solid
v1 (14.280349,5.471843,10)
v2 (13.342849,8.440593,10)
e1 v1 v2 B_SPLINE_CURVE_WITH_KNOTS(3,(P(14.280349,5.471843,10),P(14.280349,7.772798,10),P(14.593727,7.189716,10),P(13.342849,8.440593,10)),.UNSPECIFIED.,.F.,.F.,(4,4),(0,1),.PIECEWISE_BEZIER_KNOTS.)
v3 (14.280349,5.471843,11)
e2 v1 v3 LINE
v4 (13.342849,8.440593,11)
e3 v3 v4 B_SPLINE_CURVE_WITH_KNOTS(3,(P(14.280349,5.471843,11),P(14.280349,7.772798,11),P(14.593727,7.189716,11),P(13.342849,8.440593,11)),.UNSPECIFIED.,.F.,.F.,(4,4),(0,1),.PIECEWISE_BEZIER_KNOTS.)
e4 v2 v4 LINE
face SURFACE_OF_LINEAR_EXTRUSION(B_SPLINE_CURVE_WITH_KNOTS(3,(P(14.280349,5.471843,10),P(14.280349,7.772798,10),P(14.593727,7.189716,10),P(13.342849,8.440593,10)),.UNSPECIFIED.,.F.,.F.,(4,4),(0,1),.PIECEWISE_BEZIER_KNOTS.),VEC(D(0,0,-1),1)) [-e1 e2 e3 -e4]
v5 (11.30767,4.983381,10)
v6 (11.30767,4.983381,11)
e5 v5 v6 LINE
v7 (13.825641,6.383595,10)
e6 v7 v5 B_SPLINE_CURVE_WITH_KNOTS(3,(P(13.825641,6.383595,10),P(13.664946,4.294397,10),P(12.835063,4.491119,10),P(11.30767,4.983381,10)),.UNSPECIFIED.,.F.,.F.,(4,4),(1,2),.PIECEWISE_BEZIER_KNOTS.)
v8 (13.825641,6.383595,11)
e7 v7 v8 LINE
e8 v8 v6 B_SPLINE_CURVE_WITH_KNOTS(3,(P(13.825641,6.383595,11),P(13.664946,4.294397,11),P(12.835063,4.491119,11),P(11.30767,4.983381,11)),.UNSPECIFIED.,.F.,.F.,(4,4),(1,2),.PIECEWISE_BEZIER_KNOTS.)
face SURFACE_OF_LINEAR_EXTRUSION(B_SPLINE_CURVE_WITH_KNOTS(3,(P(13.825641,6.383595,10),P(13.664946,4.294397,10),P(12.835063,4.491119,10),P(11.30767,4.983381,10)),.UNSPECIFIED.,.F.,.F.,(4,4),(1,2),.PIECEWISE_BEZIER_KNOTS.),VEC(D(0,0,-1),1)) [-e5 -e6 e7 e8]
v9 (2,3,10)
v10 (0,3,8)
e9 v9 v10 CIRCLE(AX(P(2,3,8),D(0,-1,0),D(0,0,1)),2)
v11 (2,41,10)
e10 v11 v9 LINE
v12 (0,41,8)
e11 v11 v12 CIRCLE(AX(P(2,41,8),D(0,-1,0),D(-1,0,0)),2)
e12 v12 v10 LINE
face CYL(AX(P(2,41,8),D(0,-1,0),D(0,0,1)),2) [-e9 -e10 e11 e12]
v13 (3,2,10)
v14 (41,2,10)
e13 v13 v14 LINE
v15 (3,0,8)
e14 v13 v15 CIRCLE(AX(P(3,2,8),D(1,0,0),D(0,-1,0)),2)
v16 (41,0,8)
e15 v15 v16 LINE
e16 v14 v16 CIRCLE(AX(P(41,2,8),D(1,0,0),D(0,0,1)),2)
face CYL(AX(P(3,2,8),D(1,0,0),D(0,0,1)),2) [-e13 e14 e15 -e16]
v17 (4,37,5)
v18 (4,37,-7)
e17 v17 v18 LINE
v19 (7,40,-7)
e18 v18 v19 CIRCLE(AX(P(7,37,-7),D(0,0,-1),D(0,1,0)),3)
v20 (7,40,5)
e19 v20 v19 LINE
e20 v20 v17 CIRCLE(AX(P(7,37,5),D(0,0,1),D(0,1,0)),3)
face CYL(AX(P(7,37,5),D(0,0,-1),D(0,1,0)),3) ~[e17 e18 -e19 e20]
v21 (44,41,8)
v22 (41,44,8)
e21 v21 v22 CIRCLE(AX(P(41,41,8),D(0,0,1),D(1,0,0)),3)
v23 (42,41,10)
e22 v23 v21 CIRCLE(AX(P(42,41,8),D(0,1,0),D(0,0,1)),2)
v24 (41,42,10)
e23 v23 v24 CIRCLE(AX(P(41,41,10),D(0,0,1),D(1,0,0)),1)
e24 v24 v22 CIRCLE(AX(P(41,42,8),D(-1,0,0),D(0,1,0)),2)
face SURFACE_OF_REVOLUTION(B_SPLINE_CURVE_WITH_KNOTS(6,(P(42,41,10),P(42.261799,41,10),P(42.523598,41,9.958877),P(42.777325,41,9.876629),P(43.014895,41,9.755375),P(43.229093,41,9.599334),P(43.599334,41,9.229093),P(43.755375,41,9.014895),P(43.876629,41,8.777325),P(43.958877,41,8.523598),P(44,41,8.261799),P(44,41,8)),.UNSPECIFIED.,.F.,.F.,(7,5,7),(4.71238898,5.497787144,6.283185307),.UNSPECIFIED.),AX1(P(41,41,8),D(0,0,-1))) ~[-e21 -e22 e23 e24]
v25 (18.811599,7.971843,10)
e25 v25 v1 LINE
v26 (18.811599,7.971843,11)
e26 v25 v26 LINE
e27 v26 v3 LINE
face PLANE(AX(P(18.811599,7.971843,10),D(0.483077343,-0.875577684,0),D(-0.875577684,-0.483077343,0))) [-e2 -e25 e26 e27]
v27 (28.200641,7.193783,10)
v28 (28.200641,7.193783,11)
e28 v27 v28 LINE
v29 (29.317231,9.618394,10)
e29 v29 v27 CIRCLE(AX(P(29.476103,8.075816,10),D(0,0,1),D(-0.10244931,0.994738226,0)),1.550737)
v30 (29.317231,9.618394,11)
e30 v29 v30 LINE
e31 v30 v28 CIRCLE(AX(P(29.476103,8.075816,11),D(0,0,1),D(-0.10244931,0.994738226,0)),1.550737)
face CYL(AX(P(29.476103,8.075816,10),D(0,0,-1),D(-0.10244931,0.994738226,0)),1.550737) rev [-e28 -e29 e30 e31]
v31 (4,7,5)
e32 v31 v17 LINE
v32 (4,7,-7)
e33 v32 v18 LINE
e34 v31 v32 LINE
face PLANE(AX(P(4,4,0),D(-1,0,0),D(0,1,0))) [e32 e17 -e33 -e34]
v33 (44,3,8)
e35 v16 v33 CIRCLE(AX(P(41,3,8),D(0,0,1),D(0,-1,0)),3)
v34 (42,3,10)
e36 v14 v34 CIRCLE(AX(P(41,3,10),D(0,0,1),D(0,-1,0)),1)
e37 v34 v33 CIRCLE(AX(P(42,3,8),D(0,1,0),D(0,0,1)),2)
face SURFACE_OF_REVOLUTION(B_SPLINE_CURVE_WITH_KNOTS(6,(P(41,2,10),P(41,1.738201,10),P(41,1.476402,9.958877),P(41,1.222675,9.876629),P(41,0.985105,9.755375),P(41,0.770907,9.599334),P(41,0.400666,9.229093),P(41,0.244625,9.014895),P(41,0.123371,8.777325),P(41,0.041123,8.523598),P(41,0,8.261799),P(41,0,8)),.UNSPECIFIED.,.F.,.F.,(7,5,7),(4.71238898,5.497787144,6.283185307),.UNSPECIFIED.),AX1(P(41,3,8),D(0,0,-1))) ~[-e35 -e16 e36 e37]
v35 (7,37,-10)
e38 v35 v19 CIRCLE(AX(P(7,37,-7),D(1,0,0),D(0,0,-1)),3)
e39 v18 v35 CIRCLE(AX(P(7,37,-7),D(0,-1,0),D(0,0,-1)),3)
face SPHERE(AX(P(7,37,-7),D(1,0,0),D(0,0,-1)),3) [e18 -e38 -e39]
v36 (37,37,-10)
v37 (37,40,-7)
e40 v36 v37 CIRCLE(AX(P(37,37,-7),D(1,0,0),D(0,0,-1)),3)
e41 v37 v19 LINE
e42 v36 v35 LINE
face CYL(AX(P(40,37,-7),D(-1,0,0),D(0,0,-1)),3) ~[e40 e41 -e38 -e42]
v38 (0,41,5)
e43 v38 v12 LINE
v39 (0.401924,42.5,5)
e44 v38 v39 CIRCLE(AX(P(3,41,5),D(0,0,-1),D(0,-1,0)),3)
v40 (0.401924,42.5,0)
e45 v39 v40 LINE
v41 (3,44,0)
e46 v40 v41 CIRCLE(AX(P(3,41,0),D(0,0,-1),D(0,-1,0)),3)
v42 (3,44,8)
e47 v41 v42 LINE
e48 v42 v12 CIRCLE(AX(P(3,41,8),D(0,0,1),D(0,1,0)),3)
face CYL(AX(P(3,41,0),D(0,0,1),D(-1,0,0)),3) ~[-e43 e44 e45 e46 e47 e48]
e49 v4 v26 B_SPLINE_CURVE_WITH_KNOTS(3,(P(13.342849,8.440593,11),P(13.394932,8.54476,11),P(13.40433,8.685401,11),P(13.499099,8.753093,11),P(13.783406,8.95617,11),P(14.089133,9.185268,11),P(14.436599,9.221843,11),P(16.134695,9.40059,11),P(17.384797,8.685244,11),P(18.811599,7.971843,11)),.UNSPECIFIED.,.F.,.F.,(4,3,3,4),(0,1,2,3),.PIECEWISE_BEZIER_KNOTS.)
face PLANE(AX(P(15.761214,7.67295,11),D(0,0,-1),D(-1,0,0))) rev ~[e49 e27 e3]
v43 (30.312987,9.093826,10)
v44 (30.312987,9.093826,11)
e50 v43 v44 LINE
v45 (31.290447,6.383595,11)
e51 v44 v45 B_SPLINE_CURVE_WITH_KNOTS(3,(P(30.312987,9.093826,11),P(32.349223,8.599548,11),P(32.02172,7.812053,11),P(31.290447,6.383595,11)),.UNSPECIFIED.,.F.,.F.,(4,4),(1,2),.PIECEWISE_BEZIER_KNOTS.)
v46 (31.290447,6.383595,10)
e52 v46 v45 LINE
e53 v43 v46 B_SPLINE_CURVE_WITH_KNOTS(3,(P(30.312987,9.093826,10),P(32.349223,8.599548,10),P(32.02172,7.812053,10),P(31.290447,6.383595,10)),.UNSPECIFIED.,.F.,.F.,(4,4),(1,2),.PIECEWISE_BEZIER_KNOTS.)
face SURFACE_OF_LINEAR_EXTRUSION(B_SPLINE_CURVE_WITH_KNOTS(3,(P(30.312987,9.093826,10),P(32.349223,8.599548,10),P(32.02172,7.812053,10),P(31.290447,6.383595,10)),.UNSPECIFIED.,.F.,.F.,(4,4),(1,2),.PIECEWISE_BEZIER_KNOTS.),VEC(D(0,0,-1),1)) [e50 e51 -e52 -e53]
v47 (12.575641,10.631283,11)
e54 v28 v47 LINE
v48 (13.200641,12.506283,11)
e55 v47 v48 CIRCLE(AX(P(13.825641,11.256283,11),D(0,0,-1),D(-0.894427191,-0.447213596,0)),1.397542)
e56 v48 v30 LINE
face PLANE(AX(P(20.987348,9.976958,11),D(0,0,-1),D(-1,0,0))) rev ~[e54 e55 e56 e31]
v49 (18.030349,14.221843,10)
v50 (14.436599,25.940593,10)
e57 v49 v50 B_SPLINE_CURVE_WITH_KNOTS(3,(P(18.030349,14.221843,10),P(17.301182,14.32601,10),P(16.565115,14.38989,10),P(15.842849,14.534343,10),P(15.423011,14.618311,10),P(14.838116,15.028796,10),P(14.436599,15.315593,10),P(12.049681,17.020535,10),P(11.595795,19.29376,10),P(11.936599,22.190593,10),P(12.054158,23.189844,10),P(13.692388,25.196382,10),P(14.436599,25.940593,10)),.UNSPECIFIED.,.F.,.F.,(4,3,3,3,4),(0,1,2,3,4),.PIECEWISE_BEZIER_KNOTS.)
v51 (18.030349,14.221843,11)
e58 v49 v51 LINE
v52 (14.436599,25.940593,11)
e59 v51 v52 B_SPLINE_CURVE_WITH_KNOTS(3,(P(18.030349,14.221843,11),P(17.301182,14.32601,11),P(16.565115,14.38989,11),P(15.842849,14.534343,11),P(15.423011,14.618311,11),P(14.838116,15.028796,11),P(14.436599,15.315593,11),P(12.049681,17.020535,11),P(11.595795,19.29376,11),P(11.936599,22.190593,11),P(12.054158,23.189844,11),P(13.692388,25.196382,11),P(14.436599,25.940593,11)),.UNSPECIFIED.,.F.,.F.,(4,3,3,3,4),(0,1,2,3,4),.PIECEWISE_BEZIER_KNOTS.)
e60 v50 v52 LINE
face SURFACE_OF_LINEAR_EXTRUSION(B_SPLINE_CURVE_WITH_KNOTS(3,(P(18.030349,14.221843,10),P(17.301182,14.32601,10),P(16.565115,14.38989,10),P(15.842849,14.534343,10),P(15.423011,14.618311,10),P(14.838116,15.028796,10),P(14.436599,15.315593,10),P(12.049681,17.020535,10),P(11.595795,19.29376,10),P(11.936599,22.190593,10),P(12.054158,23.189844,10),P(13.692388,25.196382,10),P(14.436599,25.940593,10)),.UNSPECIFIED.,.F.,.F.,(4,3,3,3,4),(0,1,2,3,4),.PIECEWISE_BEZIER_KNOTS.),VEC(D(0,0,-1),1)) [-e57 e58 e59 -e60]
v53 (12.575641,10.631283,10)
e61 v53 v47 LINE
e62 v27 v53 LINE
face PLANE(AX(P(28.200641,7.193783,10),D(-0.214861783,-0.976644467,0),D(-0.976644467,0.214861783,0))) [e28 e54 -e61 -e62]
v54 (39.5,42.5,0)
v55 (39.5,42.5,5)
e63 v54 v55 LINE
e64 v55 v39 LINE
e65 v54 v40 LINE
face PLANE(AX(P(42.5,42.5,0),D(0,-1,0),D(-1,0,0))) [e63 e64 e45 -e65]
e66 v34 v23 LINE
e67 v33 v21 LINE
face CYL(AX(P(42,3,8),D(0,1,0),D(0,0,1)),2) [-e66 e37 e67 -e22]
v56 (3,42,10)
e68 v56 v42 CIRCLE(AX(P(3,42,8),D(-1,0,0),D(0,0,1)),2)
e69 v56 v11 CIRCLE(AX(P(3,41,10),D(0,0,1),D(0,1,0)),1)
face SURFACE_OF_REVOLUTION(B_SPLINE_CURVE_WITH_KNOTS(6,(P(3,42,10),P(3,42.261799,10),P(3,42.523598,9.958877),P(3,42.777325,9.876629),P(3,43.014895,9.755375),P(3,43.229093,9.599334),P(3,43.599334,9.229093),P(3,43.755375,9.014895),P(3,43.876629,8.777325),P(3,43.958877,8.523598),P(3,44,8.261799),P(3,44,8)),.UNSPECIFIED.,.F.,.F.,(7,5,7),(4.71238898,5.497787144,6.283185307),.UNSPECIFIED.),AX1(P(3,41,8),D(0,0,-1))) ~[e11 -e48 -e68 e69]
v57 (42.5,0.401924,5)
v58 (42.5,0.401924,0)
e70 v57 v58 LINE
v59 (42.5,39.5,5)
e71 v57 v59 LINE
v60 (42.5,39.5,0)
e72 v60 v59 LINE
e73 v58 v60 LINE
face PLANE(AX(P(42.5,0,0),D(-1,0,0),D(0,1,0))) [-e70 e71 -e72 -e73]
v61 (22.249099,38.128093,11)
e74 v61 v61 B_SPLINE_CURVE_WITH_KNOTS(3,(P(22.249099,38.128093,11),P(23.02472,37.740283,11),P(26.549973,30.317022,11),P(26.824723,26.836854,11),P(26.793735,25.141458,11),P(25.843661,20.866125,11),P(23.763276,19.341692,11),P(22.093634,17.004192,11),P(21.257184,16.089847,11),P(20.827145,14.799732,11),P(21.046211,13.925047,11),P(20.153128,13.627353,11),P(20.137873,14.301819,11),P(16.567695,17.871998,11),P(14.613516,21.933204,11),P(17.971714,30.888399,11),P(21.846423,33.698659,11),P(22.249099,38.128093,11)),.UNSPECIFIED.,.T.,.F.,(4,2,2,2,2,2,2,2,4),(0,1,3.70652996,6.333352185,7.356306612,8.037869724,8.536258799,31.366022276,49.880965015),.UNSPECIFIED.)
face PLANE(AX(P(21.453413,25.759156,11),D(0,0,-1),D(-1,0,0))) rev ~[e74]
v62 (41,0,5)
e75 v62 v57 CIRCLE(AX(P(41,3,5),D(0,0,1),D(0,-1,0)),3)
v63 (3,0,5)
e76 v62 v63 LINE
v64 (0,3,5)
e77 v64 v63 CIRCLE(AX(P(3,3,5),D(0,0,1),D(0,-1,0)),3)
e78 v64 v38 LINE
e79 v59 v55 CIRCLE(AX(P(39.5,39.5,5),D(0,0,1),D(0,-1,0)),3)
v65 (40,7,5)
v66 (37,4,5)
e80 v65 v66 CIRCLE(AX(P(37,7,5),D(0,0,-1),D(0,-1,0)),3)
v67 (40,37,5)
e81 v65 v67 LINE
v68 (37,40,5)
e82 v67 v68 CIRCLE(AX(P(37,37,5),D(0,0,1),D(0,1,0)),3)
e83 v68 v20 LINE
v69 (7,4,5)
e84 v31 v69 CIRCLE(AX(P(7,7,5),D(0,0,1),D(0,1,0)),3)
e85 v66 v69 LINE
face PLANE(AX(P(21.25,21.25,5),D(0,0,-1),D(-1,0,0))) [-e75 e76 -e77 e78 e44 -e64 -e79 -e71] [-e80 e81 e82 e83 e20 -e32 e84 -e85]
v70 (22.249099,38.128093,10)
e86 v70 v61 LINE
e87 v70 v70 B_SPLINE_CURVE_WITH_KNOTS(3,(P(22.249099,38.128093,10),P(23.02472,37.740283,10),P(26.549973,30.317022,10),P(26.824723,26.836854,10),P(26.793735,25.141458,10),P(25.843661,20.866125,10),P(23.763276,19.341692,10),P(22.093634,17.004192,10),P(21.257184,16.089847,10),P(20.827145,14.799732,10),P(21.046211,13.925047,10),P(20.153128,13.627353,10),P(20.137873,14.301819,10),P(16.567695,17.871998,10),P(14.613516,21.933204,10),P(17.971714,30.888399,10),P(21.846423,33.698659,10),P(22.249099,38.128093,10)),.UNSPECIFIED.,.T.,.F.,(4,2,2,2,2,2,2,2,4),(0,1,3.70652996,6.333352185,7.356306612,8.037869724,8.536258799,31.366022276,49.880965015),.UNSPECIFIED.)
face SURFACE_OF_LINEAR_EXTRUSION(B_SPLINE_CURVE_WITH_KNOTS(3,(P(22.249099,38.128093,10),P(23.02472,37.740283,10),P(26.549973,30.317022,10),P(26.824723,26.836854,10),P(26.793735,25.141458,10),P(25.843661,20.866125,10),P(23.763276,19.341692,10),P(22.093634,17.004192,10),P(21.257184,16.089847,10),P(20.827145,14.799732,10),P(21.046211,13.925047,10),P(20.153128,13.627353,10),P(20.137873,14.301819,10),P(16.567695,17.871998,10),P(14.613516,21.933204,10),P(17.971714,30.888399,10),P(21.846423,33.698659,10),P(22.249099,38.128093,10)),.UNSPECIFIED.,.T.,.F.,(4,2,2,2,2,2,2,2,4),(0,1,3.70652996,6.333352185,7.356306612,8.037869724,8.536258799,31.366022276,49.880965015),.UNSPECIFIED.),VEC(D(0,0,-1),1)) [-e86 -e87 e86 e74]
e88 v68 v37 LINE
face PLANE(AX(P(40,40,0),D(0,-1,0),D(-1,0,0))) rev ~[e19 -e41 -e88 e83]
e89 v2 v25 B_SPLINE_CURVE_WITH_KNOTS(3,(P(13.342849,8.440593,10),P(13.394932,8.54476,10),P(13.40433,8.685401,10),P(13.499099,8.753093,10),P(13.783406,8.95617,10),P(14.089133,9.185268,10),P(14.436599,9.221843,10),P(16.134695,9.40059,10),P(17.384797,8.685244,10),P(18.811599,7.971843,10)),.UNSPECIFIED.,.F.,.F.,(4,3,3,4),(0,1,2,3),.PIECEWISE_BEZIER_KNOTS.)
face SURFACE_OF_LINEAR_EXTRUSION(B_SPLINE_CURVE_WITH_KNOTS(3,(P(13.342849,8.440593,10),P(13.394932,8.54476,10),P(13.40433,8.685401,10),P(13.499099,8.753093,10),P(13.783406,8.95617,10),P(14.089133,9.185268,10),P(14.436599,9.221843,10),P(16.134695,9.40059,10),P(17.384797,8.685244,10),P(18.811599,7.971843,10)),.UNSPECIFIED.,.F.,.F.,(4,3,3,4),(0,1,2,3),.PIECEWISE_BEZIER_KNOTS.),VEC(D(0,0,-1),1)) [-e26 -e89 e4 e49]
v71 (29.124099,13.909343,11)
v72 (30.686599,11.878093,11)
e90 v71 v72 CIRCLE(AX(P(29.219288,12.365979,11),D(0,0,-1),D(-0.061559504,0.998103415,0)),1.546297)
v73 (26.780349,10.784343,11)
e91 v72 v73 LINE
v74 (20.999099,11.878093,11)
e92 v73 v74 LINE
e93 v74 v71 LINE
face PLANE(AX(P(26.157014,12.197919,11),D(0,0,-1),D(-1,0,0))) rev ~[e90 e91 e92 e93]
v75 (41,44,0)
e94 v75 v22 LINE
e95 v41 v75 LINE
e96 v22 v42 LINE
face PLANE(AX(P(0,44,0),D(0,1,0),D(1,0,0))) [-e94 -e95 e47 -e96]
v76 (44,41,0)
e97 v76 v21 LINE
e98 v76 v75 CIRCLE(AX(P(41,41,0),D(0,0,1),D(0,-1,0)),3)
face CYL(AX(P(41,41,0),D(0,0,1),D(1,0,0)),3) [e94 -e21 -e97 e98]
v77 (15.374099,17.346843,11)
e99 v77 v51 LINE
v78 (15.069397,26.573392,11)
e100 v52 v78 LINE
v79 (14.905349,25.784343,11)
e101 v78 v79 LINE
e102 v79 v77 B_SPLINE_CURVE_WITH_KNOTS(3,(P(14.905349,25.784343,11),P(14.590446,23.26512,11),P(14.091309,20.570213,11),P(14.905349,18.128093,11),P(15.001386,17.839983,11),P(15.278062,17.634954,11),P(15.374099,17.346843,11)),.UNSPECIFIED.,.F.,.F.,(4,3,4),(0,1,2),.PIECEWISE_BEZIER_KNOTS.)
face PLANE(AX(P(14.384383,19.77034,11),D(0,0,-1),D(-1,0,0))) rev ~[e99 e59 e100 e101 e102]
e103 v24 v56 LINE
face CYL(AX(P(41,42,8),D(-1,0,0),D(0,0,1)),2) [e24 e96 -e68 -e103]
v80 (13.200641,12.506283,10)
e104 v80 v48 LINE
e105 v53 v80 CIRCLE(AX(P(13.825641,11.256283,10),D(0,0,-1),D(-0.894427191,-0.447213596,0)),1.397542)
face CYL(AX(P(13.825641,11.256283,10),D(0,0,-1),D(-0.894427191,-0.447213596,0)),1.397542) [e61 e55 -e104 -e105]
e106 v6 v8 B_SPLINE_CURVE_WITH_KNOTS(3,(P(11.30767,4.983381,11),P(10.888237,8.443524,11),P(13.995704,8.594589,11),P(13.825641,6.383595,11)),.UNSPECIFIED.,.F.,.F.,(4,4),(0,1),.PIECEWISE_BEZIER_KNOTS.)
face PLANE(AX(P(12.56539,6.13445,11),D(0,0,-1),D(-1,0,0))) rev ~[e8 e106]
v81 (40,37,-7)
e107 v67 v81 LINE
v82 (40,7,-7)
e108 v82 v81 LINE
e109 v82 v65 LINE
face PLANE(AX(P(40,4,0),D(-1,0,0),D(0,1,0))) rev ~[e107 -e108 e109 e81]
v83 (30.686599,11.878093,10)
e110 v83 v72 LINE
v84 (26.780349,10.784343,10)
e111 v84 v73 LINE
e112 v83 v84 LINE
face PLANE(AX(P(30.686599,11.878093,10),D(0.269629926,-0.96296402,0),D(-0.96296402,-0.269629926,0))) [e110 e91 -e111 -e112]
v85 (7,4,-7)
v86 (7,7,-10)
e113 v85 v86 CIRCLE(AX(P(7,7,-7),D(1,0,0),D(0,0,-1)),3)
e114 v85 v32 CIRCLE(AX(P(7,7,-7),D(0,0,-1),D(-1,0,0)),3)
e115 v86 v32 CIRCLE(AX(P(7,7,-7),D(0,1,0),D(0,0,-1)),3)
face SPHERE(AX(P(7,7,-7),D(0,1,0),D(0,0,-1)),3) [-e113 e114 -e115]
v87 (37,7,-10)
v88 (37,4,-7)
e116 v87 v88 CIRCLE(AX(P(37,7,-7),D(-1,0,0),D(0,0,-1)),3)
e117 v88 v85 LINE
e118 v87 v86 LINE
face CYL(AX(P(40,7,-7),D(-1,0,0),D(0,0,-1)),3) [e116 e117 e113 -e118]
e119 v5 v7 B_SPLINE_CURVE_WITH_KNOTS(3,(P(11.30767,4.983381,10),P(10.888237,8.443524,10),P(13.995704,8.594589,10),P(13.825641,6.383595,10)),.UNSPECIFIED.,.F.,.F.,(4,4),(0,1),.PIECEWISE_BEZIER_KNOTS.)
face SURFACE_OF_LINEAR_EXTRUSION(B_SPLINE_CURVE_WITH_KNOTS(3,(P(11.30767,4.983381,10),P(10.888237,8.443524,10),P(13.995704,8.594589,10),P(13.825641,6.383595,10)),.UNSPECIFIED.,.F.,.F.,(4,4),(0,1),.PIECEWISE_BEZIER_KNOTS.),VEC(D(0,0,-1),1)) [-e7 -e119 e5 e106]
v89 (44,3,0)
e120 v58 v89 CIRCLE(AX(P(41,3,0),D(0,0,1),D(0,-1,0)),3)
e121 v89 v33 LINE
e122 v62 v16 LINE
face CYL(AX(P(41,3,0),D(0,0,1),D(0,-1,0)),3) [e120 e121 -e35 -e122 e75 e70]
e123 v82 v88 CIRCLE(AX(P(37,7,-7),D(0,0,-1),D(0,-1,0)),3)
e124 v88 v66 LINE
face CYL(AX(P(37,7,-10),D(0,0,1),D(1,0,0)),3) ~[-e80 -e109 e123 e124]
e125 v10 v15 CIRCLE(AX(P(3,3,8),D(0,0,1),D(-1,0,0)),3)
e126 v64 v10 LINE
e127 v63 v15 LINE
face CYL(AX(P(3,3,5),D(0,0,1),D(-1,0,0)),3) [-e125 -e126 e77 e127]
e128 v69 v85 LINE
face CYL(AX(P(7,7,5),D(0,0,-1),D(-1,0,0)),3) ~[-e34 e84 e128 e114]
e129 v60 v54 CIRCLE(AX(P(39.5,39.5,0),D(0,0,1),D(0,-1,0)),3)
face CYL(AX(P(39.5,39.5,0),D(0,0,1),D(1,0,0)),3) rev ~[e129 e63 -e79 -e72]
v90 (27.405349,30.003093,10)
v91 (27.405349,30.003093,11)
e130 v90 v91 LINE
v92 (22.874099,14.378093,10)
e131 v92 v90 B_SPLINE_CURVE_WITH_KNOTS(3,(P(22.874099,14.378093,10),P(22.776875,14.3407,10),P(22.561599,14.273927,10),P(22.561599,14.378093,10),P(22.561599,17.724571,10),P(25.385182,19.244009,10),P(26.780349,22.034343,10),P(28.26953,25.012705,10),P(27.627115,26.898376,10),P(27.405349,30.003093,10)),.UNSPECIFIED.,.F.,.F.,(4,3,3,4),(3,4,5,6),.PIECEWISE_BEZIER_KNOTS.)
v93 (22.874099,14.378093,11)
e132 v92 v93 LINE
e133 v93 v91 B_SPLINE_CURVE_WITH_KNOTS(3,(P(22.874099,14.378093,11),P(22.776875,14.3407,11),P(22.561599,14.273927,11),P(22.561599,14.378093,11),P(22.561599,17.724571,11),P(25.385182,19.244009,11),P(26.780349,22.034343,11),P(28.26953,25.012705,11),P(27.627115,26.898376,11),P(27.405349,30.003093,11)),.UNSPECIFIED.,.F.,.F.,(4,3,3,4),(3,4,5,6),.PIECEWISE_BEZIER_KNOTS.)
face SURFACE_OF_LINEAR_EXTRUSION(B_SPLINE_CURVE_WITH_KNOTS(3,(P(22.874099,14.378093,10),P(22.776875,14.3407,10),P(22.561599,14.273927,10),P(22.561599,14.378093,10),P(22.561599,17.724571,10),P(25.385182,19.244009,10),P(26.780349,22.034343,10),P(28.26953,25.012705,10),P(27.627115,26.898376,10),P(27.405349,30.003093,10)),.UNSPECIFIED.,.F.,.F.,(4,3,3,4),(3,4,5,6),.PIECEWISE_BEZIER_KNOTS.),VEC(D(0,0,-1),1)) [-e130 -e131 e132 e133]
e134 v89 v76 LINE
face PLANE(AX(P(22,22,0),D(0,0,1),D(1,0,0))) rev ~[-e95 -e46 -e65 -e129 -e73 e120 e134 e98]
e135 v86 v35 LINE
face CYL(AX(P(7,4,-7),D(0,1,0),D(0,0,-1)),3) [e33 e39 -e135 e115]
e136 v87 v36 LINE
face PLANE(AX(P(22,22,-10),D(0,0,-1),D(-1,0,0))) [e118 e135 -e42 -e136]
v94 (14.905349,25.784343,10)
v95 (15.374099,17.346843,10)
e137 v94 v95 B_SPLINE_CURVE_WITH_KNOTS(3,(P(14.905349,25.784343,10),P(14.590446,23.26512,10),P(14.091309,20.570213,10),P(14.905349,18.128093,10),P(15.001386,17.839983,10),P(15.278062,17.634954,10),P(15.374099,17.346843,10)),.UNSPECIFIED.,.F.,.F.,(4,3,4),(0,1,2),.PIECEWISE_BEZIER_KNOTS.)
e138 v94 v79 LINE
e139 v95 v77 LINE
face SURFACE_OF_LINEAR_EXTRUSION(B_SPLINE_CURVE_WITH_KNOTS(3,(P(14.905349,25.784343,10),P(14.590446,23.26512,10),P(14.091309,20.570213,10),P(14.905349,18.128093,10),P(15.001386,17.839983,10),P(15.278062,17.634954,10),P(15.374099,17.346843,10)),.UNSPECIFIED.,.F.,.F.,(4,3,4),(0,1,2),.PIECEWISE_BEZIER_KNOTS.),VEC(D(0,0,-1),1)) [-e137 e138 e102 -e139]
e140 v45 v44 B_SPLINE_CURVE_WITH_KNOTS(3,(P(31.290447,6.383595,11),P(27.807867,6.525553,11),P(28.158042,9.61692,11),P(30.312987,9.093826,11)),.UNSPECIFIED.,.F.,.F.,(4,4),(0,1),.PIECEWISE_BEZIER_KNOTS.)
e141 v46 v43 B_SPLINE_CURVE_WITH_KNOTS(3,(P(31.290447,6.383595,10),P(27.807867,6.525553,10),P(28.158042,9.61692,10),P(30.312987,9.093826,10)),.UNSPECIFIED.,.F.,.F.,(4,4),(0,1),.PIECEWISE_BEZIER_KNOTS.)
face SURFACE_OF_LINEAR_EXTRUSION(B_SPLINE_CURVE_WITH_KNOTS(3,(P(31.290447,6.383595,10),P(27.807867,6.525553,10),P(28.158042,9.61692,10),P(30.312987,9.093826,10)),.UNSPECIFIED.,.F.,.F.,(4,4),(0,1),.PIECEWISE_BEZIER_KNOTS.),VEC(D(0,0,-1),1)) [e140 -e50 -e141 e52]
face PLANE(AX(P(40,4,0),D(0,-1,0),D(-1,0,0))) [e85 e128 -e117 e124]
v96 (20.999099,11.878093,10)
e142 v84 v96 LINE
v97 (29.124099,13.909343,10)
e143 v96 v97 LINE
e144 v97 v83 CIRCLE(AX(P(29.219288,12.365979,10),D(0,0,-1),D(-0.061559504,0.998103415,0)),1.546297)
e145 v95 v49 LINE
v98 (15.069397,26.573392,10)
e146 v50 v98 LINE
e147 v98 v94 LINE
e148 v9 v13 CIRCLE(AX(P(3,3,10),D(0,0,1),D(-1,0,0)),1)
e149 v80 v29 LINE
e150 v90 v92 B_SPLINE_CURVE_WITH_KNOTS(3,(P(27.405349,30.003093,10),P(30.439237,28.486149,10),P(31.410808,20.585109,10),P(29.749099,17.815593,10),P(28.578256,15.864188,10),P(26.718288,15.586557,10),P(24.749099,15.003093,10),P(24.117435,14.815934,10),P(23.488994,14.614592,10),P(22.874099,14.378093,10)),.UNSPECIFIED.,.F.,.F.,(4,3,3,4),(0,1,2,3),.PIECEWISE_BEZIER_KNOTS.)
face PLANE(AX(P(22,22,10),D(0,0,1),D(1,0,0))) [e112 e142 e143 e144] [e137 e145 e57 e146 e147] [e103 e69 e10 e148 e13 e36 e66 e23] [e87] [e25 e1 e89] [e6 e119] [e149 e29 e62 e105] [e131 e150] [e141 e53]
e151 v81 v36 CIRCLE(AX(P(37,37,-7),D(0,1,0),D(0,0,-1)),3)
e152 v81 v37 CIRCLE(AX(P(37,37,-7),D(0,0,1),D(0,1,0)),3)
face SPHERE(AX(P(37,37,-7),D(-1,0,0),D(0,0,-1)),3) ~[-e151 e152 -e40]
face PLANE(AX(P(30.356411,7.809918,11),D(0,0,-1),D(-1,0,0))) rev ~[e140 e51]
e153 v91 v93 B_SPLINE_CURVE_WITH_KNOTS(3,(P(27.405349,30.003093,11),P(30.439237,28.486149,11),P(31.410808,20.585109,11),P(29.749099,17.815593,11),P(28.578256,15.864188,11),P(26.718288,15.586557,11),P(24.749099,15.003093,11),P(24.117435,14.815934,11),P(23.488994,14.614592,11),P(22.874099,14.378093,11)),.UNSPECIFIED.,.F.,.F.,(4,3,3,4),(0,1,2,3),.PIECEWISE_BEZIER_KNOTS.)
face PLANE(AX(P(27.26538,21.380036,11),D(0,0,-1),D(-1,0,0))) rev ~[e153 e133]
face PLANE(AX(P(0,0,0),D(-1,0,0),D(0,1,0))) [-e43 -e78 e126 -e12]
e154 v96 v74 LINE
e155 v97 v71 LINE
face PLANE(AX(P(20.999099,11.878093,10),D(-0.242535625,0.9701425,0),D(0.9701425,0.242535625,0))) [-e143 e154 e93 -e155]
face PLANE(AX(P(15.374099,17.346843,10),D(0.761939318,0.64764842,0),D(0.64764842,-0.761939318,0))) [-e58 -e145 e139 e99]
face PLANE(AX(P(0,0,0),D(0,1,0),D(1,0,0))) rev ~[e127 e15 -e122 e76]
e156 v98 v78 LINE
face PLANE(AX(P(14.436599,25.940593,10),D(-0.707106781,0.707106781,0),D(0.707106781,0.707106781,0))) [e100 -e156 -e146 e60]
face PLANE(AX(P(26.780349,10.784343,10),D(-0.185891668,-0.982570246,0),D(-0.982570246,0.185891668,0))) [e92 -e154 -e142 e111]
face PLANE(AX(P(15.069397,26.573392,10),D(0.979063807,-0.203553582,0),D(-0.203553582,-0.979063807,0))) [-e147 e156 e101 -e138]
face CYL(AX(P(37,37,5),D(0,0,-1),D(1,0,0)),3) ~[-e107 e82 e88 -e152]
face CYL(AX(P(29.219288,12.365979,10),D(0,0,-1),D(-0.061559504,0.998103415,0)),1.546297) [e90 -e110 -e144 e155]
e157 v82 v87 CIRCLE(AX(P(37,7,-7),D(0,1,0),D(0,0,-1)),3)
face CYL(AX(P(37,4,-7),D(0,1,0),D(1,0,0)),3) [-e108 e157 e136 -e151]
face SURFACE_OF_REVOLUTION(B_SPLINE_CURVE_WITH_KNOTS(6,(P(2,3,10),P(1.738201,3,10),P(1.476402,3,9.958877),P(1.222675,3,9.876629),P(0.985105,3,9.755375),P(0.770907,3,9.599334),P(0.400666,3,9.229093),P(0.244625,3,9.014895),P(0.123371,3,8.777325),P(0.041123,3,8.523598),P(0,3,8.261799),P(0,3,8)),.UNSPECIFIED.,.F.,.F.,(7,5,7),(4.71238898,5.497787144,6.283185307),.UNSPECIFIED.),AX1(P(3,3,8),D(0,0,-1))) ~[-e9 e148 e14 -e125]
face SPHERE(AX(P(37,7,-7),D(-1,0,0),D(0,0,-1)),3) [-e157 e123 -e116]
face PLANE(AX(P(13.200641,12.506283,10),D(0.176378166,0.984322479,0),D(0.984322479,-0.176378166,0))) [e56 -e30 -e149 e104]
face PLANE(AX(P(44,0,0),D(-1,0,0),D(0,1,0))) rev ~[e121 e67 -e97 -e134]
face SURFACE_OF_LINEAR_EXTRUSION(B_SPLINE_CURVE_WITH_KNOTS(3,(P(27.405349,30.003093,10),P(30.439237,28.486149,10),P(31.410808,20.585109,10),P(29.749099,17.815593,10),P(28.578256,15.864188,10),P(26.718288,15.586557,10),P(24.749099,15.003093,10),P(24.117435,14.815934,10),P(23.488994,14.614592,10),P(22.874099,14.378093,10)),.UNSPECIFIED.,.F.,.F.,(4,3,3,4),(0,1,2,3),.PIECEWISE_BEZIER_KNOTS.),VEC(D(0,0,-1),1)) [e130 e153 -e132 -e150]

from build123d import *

# Parameters (mm, degrees)
ESQUISSE2_W             = 44
ESQUISSE2_H             = 44
BOSS_EXTRU_1_DEPTH      = 10
ESQUISSE3_W             = 36
ESQUISSE3_H             = 36
BOSS_EXTRU_2_DEPTH      = 10
ESQUISSE4_W             = 42.5
ESQUISSE4_H             = 42.5
ESQUISSE4_W_2           = 36
ESQUISSE4_H_2           = 36
ENL_V_MAT_EXTRU_1_DEPTH = 5
CONG_1_R                = 3
CONG_2_R                = 2
BOSS_EXTRU_4_DEPTH      = 1


with BuildPart() as part:
    # Esquisse2 → Boss.-Extru.1 (new body)
    with BuildSketch(Plane.XY):
        with Locations((22, 22)):
            Rectangle(ESQUISSE2_W, ESQUISSE2_H)
    extrude(amount=BOSS_EXTRU_1_DEPTH)

    # Esquisse3 → Boss.-Extru.2 (add)
    with BuildSketch(Plane(origin=(0, 0, 0), x_dir=(-1, 0, 0), z_dir=(0, 0, -1))):
        with Locations((-22, 22)):
            Rectangle(ESQUISSE3_W, ESQUISSE3_H)
    extrude(amount=BOSS_EXTRU_2_DEPTH)

    # Esquisse4 → Enlèv. mat.-Extru.1 (cut)
    with BuildSketch(Plane(origin=(0, 0, 0), x_dir=(-1, 0, 0), z_dir=(0, 0, -1))):
        with Locations((-21.25, 21.25)):
            Rectangle(ESQUISSE4_W, ESQUISSE4_H)
        with Locations((-22, 22)):
            Rectangle(ESQUISSE4_W_2, ESQUISSE4_H_2, mode=Mode.SUBTRACT)
    extrude(amount=-ENL_V_MAT_EXTRU_1_DEPTH, mode=Mode.SUBTRACT)

    # Congé1
    cong_1_edges = [part.edges().sort_by_distance(p)[0] for p in [
        (22, 40, -10),
        (4, 22, -10),
        (22, 4, -10),
        (40, 22, -10),
        (44, 0, 5),
        (44, 44, 5),
        (0, 0, 7.5),
        (0, 44, 5),
        (4, 4, -2.5),
        (4, 40, -2.5),
        (40, 4, -2.5),
        (40, 40, -2.5),
        (42.5, 42.5, 2.5),
    ]]
    fillet(cong_1_edges, radius=CONG_1_R)

    # Congé2
    cong_2_edges = [part.edges().sort_by_distance(p)[0] for p in [
        (44, 22, 10),
        (22, 0, 10),
        (0, 22, 10),
        (22, 44, 10),
        (0.878679656, 43.121320344, 10),
        (0.878679656, 0.878679656, 10),
        (43.121320344, 43.121320344, 10),
        (43.121320344, 0.878679656, 10),
    ]]
    fillet(cong_2_edges, radius=CONG_2_R)

    # Esquisse7 → Boss.-Extru.4 (add)
    with BuildSketch(Plane.XY.offset(10)):
        with BuildLine():
            Line((15.374098957, 17.346843443), (18.030348957, 14.221843443))
            add(Edge.make_bspline(
                [(18.030348957, 14.221843443), (17.301182291, 14.32601011), (16.565114838, 14.389890267), (15.842848957, 14.534343443), (15.423010802, 14.618311074), (14.838115665, 15.028795794), (14.436598957, 15.315593443), (12.049681404, 17.020534553), (11.595795075, 19.293760446), (11.936598957, 22.190593443), (12.054157826, 23.189843826), (13.69238751, 25.196381996), (14.436598957, 25.940593443)],
                knots=[0, 0, 0, 0, 1, 1, 1, 2, 2, 2, 3, 3, 3, 4, 4, 4, 4], degree=3))
            Line((14.436598957, 25.940593443), (15.06939707, 26.573391556))
            Line((15.06939707, 26.573391556), (14.905348957, 25.784343443))
            add(Edge.make_bspline(
                [(14.905348957, 25.784343443), (14.590446041, 23.265120116), (14.091309116, 20.570212966), (14.905348957, 18.128093443), (15.001385879, 17.839982679), (15.278062036, 17.634954207), (15.374098957, 17.346843443)],
                knots=[0, 0, 0, 0, 1, 1, 1, 2, 2, 2, 2], degree=3))
        make_face()
        with BuildLine():
            Line((30.686598957, 11.878093443), (26.780348957, 10.784343443))
            Line((26.780348957, 10.784343443), (20.999098957, 11.878093443))
            Line((20.999098957, 11.878093443), (29.124098957, 13.909343443))
            ThreePointArc((29.124098957, 13.909343443), (30.444920086, 13.308773157), (30.686598957, 11.878093443))
        make_face()
        with BuildLine():
            Line((18.811598957, 7.971843443), (14.280348957, 5.471843443))
            add(Edge.make_bspline(
                [(14.280348957, 5.471843443), (14.280348957, 7.772797666), (14.593726557, 7.189715843), (13.342848957, 8.440593443)],
                knots=[0, 0, 0, 0, 1, 1, 1, 1], degree=3))
            add(Edge.make_bspline(
                [(13.342848957, 8.440593443), (13.394932291, 8.54476011), (13.404330032, 8.685401354), (13.499098957, 8.753093443), (13.783405732, 8.956169711), (14.089133052, 9.185268084), (14.436598957, 9.221843443), (16.134694919, 9.400590386), (17.384797269, 8.685244287), (18.811598957, 7.971843443)],
                knots=[0, 0, 0, 0, 1, 1, 1, 2, 2, 2, 3, 3, 3, 3], degree=3))
        make_face()
        with BuildLine():
            Line((13.200641117, 12.506283222), (29.317230938, 9.618393711))
            ThreePointArc((29.317230938, 9.618393711), (28.067553161, 8.724486443), (28.200641117, 7.193783222))
            Line((28.200641117, 7.193783222), (12.575641117, 10.631283222))
            ThreePointArc((12.575641117, 10.631283222), (12.499815902, 11.698224961), (13.200641117, 12.506283222))
        make_face()
        with BuildLine():
            add(Edge.make_bspline(
                [(20.999098957, 15.315593443), (20.827145061, 14.799731755), (21.046210645, 13.925047339), (20.530348957, 13.753093443), (20.153128088, 13.627353153), (20.137873233, 14.301819167), (20.061598957, 14.378093443), (16.567694762, 17.871997638), (14.613515541, 21.933204334), (16.467848957, 26.878093443), (17.971713728, 30.888399498), (21.846423142, 33.698659479), (22.249098957, 38.128093443)],
                knots=[4, 4, 4, 4, 5, 5, 5, 6, 6, 6, 7, 7, 7, 8, 8, 8, 8], degree=3))
            add(Edge.make_bspline(
                [(22.249098957, 38.128093443), (23.024720103, 37.74028287), (26.549972992, 30.317022339), (26.624098957, 29.378093443), (26.824723104, 26.836854256), (26.793735434, 25.141457588), (26.311598957, 22.971843443), (25.843661476, 20.866124777), (23.763276375, 19.341691827), (22.561598957, 17.659343443), (22.093633816, 17.004192245), (21.257183639, 16.089847489), (20.999098957, 15.315593443)],
                knots=[0, 0, 0, 0, 1, 1, 1, 2, 2, 2, 3, 3, 3, 4, 4, 4, 4], degree=3))
        make_face()
        with BuildLine():
            add(Edge.make_bspline(
                [(22.874098957, 14.378093443), (22.776875457, 14.340699789), (22.561598957, 14.273926776), (22.561598957, 14.378093443), (22.561598957, 17.724570677), (25.385181625, 19.244008778), (26.780348957, 22.034343443), (28.269529967, 25.012705463), (27.627114524, 26.898375507), (27.405348957, 30.003093443)],
                knots=[3, 3, 3, 3, 4, 4, 4, 5, 5, 5, 6, 6, 6, 6], degree=3))
            add(Edge.make_bspline(
                [(27.405348957, 30.003093443), (30.439237099, 28.486149372), (31.410808057, 20.585108609), (29.749098957, 17.815593443), (28.578255605, 15.864187855), (26.718288261, 15.58655694), (24.749098957, 15.003093443), (24.117435238, 14.815933822), (23.488994366, 14.614591677), (22.874098957, 14.378093443)],
                knots=[0, 0, 0, 0, 1, 1, 1, 2, 2, 2, 3, 3, 3, 3], degree=3))
        make_face()
        with BuildLine():
            add(Edge.make_bspline(
                [(13.825641117, 6.383595142), (13.664946359, 4.294397314), (12.835062605, 4.491118619), (11.307669526, 4.983380758)],
                knots=[1, 1, 1, 1, 2, 2, 2, 2], degree=3))
            add(Edge.make_bspline(
                [(11.307669526, 4.983380758), (10.888236852, 8.443524348), (13.995704046, 8.594588879), (13.825641117, 6.383595142)],
                knots=[0, 0, 0, 0, 1, 1, 1, 1], degree=3))
        make_face()
        with BuildLine():
            add(Edge.make_bspline(
                [(30.312986898, 9.093826211), (32.34922339, 8.599547626), (32.02172038, 7.812052803), (31.290447284, 6.383595142)],
                knots=[1, 1, 1, 1, 2, 2, 2, 2], degree=3))
            add(Edge.make_bspline(
                [(31.290447284, 6.383595142), (27.807867011, 6.525553152), (28.158042034, 9.616920214), (30.312986898, 9.093826211)],
                knots=[0, 0, 0, 0, 1, 1, 1, 1], degree=3))
        make_face()
    extrude(amount=BOSS_EXTRU_4_DEPTH)


solid = part.part
